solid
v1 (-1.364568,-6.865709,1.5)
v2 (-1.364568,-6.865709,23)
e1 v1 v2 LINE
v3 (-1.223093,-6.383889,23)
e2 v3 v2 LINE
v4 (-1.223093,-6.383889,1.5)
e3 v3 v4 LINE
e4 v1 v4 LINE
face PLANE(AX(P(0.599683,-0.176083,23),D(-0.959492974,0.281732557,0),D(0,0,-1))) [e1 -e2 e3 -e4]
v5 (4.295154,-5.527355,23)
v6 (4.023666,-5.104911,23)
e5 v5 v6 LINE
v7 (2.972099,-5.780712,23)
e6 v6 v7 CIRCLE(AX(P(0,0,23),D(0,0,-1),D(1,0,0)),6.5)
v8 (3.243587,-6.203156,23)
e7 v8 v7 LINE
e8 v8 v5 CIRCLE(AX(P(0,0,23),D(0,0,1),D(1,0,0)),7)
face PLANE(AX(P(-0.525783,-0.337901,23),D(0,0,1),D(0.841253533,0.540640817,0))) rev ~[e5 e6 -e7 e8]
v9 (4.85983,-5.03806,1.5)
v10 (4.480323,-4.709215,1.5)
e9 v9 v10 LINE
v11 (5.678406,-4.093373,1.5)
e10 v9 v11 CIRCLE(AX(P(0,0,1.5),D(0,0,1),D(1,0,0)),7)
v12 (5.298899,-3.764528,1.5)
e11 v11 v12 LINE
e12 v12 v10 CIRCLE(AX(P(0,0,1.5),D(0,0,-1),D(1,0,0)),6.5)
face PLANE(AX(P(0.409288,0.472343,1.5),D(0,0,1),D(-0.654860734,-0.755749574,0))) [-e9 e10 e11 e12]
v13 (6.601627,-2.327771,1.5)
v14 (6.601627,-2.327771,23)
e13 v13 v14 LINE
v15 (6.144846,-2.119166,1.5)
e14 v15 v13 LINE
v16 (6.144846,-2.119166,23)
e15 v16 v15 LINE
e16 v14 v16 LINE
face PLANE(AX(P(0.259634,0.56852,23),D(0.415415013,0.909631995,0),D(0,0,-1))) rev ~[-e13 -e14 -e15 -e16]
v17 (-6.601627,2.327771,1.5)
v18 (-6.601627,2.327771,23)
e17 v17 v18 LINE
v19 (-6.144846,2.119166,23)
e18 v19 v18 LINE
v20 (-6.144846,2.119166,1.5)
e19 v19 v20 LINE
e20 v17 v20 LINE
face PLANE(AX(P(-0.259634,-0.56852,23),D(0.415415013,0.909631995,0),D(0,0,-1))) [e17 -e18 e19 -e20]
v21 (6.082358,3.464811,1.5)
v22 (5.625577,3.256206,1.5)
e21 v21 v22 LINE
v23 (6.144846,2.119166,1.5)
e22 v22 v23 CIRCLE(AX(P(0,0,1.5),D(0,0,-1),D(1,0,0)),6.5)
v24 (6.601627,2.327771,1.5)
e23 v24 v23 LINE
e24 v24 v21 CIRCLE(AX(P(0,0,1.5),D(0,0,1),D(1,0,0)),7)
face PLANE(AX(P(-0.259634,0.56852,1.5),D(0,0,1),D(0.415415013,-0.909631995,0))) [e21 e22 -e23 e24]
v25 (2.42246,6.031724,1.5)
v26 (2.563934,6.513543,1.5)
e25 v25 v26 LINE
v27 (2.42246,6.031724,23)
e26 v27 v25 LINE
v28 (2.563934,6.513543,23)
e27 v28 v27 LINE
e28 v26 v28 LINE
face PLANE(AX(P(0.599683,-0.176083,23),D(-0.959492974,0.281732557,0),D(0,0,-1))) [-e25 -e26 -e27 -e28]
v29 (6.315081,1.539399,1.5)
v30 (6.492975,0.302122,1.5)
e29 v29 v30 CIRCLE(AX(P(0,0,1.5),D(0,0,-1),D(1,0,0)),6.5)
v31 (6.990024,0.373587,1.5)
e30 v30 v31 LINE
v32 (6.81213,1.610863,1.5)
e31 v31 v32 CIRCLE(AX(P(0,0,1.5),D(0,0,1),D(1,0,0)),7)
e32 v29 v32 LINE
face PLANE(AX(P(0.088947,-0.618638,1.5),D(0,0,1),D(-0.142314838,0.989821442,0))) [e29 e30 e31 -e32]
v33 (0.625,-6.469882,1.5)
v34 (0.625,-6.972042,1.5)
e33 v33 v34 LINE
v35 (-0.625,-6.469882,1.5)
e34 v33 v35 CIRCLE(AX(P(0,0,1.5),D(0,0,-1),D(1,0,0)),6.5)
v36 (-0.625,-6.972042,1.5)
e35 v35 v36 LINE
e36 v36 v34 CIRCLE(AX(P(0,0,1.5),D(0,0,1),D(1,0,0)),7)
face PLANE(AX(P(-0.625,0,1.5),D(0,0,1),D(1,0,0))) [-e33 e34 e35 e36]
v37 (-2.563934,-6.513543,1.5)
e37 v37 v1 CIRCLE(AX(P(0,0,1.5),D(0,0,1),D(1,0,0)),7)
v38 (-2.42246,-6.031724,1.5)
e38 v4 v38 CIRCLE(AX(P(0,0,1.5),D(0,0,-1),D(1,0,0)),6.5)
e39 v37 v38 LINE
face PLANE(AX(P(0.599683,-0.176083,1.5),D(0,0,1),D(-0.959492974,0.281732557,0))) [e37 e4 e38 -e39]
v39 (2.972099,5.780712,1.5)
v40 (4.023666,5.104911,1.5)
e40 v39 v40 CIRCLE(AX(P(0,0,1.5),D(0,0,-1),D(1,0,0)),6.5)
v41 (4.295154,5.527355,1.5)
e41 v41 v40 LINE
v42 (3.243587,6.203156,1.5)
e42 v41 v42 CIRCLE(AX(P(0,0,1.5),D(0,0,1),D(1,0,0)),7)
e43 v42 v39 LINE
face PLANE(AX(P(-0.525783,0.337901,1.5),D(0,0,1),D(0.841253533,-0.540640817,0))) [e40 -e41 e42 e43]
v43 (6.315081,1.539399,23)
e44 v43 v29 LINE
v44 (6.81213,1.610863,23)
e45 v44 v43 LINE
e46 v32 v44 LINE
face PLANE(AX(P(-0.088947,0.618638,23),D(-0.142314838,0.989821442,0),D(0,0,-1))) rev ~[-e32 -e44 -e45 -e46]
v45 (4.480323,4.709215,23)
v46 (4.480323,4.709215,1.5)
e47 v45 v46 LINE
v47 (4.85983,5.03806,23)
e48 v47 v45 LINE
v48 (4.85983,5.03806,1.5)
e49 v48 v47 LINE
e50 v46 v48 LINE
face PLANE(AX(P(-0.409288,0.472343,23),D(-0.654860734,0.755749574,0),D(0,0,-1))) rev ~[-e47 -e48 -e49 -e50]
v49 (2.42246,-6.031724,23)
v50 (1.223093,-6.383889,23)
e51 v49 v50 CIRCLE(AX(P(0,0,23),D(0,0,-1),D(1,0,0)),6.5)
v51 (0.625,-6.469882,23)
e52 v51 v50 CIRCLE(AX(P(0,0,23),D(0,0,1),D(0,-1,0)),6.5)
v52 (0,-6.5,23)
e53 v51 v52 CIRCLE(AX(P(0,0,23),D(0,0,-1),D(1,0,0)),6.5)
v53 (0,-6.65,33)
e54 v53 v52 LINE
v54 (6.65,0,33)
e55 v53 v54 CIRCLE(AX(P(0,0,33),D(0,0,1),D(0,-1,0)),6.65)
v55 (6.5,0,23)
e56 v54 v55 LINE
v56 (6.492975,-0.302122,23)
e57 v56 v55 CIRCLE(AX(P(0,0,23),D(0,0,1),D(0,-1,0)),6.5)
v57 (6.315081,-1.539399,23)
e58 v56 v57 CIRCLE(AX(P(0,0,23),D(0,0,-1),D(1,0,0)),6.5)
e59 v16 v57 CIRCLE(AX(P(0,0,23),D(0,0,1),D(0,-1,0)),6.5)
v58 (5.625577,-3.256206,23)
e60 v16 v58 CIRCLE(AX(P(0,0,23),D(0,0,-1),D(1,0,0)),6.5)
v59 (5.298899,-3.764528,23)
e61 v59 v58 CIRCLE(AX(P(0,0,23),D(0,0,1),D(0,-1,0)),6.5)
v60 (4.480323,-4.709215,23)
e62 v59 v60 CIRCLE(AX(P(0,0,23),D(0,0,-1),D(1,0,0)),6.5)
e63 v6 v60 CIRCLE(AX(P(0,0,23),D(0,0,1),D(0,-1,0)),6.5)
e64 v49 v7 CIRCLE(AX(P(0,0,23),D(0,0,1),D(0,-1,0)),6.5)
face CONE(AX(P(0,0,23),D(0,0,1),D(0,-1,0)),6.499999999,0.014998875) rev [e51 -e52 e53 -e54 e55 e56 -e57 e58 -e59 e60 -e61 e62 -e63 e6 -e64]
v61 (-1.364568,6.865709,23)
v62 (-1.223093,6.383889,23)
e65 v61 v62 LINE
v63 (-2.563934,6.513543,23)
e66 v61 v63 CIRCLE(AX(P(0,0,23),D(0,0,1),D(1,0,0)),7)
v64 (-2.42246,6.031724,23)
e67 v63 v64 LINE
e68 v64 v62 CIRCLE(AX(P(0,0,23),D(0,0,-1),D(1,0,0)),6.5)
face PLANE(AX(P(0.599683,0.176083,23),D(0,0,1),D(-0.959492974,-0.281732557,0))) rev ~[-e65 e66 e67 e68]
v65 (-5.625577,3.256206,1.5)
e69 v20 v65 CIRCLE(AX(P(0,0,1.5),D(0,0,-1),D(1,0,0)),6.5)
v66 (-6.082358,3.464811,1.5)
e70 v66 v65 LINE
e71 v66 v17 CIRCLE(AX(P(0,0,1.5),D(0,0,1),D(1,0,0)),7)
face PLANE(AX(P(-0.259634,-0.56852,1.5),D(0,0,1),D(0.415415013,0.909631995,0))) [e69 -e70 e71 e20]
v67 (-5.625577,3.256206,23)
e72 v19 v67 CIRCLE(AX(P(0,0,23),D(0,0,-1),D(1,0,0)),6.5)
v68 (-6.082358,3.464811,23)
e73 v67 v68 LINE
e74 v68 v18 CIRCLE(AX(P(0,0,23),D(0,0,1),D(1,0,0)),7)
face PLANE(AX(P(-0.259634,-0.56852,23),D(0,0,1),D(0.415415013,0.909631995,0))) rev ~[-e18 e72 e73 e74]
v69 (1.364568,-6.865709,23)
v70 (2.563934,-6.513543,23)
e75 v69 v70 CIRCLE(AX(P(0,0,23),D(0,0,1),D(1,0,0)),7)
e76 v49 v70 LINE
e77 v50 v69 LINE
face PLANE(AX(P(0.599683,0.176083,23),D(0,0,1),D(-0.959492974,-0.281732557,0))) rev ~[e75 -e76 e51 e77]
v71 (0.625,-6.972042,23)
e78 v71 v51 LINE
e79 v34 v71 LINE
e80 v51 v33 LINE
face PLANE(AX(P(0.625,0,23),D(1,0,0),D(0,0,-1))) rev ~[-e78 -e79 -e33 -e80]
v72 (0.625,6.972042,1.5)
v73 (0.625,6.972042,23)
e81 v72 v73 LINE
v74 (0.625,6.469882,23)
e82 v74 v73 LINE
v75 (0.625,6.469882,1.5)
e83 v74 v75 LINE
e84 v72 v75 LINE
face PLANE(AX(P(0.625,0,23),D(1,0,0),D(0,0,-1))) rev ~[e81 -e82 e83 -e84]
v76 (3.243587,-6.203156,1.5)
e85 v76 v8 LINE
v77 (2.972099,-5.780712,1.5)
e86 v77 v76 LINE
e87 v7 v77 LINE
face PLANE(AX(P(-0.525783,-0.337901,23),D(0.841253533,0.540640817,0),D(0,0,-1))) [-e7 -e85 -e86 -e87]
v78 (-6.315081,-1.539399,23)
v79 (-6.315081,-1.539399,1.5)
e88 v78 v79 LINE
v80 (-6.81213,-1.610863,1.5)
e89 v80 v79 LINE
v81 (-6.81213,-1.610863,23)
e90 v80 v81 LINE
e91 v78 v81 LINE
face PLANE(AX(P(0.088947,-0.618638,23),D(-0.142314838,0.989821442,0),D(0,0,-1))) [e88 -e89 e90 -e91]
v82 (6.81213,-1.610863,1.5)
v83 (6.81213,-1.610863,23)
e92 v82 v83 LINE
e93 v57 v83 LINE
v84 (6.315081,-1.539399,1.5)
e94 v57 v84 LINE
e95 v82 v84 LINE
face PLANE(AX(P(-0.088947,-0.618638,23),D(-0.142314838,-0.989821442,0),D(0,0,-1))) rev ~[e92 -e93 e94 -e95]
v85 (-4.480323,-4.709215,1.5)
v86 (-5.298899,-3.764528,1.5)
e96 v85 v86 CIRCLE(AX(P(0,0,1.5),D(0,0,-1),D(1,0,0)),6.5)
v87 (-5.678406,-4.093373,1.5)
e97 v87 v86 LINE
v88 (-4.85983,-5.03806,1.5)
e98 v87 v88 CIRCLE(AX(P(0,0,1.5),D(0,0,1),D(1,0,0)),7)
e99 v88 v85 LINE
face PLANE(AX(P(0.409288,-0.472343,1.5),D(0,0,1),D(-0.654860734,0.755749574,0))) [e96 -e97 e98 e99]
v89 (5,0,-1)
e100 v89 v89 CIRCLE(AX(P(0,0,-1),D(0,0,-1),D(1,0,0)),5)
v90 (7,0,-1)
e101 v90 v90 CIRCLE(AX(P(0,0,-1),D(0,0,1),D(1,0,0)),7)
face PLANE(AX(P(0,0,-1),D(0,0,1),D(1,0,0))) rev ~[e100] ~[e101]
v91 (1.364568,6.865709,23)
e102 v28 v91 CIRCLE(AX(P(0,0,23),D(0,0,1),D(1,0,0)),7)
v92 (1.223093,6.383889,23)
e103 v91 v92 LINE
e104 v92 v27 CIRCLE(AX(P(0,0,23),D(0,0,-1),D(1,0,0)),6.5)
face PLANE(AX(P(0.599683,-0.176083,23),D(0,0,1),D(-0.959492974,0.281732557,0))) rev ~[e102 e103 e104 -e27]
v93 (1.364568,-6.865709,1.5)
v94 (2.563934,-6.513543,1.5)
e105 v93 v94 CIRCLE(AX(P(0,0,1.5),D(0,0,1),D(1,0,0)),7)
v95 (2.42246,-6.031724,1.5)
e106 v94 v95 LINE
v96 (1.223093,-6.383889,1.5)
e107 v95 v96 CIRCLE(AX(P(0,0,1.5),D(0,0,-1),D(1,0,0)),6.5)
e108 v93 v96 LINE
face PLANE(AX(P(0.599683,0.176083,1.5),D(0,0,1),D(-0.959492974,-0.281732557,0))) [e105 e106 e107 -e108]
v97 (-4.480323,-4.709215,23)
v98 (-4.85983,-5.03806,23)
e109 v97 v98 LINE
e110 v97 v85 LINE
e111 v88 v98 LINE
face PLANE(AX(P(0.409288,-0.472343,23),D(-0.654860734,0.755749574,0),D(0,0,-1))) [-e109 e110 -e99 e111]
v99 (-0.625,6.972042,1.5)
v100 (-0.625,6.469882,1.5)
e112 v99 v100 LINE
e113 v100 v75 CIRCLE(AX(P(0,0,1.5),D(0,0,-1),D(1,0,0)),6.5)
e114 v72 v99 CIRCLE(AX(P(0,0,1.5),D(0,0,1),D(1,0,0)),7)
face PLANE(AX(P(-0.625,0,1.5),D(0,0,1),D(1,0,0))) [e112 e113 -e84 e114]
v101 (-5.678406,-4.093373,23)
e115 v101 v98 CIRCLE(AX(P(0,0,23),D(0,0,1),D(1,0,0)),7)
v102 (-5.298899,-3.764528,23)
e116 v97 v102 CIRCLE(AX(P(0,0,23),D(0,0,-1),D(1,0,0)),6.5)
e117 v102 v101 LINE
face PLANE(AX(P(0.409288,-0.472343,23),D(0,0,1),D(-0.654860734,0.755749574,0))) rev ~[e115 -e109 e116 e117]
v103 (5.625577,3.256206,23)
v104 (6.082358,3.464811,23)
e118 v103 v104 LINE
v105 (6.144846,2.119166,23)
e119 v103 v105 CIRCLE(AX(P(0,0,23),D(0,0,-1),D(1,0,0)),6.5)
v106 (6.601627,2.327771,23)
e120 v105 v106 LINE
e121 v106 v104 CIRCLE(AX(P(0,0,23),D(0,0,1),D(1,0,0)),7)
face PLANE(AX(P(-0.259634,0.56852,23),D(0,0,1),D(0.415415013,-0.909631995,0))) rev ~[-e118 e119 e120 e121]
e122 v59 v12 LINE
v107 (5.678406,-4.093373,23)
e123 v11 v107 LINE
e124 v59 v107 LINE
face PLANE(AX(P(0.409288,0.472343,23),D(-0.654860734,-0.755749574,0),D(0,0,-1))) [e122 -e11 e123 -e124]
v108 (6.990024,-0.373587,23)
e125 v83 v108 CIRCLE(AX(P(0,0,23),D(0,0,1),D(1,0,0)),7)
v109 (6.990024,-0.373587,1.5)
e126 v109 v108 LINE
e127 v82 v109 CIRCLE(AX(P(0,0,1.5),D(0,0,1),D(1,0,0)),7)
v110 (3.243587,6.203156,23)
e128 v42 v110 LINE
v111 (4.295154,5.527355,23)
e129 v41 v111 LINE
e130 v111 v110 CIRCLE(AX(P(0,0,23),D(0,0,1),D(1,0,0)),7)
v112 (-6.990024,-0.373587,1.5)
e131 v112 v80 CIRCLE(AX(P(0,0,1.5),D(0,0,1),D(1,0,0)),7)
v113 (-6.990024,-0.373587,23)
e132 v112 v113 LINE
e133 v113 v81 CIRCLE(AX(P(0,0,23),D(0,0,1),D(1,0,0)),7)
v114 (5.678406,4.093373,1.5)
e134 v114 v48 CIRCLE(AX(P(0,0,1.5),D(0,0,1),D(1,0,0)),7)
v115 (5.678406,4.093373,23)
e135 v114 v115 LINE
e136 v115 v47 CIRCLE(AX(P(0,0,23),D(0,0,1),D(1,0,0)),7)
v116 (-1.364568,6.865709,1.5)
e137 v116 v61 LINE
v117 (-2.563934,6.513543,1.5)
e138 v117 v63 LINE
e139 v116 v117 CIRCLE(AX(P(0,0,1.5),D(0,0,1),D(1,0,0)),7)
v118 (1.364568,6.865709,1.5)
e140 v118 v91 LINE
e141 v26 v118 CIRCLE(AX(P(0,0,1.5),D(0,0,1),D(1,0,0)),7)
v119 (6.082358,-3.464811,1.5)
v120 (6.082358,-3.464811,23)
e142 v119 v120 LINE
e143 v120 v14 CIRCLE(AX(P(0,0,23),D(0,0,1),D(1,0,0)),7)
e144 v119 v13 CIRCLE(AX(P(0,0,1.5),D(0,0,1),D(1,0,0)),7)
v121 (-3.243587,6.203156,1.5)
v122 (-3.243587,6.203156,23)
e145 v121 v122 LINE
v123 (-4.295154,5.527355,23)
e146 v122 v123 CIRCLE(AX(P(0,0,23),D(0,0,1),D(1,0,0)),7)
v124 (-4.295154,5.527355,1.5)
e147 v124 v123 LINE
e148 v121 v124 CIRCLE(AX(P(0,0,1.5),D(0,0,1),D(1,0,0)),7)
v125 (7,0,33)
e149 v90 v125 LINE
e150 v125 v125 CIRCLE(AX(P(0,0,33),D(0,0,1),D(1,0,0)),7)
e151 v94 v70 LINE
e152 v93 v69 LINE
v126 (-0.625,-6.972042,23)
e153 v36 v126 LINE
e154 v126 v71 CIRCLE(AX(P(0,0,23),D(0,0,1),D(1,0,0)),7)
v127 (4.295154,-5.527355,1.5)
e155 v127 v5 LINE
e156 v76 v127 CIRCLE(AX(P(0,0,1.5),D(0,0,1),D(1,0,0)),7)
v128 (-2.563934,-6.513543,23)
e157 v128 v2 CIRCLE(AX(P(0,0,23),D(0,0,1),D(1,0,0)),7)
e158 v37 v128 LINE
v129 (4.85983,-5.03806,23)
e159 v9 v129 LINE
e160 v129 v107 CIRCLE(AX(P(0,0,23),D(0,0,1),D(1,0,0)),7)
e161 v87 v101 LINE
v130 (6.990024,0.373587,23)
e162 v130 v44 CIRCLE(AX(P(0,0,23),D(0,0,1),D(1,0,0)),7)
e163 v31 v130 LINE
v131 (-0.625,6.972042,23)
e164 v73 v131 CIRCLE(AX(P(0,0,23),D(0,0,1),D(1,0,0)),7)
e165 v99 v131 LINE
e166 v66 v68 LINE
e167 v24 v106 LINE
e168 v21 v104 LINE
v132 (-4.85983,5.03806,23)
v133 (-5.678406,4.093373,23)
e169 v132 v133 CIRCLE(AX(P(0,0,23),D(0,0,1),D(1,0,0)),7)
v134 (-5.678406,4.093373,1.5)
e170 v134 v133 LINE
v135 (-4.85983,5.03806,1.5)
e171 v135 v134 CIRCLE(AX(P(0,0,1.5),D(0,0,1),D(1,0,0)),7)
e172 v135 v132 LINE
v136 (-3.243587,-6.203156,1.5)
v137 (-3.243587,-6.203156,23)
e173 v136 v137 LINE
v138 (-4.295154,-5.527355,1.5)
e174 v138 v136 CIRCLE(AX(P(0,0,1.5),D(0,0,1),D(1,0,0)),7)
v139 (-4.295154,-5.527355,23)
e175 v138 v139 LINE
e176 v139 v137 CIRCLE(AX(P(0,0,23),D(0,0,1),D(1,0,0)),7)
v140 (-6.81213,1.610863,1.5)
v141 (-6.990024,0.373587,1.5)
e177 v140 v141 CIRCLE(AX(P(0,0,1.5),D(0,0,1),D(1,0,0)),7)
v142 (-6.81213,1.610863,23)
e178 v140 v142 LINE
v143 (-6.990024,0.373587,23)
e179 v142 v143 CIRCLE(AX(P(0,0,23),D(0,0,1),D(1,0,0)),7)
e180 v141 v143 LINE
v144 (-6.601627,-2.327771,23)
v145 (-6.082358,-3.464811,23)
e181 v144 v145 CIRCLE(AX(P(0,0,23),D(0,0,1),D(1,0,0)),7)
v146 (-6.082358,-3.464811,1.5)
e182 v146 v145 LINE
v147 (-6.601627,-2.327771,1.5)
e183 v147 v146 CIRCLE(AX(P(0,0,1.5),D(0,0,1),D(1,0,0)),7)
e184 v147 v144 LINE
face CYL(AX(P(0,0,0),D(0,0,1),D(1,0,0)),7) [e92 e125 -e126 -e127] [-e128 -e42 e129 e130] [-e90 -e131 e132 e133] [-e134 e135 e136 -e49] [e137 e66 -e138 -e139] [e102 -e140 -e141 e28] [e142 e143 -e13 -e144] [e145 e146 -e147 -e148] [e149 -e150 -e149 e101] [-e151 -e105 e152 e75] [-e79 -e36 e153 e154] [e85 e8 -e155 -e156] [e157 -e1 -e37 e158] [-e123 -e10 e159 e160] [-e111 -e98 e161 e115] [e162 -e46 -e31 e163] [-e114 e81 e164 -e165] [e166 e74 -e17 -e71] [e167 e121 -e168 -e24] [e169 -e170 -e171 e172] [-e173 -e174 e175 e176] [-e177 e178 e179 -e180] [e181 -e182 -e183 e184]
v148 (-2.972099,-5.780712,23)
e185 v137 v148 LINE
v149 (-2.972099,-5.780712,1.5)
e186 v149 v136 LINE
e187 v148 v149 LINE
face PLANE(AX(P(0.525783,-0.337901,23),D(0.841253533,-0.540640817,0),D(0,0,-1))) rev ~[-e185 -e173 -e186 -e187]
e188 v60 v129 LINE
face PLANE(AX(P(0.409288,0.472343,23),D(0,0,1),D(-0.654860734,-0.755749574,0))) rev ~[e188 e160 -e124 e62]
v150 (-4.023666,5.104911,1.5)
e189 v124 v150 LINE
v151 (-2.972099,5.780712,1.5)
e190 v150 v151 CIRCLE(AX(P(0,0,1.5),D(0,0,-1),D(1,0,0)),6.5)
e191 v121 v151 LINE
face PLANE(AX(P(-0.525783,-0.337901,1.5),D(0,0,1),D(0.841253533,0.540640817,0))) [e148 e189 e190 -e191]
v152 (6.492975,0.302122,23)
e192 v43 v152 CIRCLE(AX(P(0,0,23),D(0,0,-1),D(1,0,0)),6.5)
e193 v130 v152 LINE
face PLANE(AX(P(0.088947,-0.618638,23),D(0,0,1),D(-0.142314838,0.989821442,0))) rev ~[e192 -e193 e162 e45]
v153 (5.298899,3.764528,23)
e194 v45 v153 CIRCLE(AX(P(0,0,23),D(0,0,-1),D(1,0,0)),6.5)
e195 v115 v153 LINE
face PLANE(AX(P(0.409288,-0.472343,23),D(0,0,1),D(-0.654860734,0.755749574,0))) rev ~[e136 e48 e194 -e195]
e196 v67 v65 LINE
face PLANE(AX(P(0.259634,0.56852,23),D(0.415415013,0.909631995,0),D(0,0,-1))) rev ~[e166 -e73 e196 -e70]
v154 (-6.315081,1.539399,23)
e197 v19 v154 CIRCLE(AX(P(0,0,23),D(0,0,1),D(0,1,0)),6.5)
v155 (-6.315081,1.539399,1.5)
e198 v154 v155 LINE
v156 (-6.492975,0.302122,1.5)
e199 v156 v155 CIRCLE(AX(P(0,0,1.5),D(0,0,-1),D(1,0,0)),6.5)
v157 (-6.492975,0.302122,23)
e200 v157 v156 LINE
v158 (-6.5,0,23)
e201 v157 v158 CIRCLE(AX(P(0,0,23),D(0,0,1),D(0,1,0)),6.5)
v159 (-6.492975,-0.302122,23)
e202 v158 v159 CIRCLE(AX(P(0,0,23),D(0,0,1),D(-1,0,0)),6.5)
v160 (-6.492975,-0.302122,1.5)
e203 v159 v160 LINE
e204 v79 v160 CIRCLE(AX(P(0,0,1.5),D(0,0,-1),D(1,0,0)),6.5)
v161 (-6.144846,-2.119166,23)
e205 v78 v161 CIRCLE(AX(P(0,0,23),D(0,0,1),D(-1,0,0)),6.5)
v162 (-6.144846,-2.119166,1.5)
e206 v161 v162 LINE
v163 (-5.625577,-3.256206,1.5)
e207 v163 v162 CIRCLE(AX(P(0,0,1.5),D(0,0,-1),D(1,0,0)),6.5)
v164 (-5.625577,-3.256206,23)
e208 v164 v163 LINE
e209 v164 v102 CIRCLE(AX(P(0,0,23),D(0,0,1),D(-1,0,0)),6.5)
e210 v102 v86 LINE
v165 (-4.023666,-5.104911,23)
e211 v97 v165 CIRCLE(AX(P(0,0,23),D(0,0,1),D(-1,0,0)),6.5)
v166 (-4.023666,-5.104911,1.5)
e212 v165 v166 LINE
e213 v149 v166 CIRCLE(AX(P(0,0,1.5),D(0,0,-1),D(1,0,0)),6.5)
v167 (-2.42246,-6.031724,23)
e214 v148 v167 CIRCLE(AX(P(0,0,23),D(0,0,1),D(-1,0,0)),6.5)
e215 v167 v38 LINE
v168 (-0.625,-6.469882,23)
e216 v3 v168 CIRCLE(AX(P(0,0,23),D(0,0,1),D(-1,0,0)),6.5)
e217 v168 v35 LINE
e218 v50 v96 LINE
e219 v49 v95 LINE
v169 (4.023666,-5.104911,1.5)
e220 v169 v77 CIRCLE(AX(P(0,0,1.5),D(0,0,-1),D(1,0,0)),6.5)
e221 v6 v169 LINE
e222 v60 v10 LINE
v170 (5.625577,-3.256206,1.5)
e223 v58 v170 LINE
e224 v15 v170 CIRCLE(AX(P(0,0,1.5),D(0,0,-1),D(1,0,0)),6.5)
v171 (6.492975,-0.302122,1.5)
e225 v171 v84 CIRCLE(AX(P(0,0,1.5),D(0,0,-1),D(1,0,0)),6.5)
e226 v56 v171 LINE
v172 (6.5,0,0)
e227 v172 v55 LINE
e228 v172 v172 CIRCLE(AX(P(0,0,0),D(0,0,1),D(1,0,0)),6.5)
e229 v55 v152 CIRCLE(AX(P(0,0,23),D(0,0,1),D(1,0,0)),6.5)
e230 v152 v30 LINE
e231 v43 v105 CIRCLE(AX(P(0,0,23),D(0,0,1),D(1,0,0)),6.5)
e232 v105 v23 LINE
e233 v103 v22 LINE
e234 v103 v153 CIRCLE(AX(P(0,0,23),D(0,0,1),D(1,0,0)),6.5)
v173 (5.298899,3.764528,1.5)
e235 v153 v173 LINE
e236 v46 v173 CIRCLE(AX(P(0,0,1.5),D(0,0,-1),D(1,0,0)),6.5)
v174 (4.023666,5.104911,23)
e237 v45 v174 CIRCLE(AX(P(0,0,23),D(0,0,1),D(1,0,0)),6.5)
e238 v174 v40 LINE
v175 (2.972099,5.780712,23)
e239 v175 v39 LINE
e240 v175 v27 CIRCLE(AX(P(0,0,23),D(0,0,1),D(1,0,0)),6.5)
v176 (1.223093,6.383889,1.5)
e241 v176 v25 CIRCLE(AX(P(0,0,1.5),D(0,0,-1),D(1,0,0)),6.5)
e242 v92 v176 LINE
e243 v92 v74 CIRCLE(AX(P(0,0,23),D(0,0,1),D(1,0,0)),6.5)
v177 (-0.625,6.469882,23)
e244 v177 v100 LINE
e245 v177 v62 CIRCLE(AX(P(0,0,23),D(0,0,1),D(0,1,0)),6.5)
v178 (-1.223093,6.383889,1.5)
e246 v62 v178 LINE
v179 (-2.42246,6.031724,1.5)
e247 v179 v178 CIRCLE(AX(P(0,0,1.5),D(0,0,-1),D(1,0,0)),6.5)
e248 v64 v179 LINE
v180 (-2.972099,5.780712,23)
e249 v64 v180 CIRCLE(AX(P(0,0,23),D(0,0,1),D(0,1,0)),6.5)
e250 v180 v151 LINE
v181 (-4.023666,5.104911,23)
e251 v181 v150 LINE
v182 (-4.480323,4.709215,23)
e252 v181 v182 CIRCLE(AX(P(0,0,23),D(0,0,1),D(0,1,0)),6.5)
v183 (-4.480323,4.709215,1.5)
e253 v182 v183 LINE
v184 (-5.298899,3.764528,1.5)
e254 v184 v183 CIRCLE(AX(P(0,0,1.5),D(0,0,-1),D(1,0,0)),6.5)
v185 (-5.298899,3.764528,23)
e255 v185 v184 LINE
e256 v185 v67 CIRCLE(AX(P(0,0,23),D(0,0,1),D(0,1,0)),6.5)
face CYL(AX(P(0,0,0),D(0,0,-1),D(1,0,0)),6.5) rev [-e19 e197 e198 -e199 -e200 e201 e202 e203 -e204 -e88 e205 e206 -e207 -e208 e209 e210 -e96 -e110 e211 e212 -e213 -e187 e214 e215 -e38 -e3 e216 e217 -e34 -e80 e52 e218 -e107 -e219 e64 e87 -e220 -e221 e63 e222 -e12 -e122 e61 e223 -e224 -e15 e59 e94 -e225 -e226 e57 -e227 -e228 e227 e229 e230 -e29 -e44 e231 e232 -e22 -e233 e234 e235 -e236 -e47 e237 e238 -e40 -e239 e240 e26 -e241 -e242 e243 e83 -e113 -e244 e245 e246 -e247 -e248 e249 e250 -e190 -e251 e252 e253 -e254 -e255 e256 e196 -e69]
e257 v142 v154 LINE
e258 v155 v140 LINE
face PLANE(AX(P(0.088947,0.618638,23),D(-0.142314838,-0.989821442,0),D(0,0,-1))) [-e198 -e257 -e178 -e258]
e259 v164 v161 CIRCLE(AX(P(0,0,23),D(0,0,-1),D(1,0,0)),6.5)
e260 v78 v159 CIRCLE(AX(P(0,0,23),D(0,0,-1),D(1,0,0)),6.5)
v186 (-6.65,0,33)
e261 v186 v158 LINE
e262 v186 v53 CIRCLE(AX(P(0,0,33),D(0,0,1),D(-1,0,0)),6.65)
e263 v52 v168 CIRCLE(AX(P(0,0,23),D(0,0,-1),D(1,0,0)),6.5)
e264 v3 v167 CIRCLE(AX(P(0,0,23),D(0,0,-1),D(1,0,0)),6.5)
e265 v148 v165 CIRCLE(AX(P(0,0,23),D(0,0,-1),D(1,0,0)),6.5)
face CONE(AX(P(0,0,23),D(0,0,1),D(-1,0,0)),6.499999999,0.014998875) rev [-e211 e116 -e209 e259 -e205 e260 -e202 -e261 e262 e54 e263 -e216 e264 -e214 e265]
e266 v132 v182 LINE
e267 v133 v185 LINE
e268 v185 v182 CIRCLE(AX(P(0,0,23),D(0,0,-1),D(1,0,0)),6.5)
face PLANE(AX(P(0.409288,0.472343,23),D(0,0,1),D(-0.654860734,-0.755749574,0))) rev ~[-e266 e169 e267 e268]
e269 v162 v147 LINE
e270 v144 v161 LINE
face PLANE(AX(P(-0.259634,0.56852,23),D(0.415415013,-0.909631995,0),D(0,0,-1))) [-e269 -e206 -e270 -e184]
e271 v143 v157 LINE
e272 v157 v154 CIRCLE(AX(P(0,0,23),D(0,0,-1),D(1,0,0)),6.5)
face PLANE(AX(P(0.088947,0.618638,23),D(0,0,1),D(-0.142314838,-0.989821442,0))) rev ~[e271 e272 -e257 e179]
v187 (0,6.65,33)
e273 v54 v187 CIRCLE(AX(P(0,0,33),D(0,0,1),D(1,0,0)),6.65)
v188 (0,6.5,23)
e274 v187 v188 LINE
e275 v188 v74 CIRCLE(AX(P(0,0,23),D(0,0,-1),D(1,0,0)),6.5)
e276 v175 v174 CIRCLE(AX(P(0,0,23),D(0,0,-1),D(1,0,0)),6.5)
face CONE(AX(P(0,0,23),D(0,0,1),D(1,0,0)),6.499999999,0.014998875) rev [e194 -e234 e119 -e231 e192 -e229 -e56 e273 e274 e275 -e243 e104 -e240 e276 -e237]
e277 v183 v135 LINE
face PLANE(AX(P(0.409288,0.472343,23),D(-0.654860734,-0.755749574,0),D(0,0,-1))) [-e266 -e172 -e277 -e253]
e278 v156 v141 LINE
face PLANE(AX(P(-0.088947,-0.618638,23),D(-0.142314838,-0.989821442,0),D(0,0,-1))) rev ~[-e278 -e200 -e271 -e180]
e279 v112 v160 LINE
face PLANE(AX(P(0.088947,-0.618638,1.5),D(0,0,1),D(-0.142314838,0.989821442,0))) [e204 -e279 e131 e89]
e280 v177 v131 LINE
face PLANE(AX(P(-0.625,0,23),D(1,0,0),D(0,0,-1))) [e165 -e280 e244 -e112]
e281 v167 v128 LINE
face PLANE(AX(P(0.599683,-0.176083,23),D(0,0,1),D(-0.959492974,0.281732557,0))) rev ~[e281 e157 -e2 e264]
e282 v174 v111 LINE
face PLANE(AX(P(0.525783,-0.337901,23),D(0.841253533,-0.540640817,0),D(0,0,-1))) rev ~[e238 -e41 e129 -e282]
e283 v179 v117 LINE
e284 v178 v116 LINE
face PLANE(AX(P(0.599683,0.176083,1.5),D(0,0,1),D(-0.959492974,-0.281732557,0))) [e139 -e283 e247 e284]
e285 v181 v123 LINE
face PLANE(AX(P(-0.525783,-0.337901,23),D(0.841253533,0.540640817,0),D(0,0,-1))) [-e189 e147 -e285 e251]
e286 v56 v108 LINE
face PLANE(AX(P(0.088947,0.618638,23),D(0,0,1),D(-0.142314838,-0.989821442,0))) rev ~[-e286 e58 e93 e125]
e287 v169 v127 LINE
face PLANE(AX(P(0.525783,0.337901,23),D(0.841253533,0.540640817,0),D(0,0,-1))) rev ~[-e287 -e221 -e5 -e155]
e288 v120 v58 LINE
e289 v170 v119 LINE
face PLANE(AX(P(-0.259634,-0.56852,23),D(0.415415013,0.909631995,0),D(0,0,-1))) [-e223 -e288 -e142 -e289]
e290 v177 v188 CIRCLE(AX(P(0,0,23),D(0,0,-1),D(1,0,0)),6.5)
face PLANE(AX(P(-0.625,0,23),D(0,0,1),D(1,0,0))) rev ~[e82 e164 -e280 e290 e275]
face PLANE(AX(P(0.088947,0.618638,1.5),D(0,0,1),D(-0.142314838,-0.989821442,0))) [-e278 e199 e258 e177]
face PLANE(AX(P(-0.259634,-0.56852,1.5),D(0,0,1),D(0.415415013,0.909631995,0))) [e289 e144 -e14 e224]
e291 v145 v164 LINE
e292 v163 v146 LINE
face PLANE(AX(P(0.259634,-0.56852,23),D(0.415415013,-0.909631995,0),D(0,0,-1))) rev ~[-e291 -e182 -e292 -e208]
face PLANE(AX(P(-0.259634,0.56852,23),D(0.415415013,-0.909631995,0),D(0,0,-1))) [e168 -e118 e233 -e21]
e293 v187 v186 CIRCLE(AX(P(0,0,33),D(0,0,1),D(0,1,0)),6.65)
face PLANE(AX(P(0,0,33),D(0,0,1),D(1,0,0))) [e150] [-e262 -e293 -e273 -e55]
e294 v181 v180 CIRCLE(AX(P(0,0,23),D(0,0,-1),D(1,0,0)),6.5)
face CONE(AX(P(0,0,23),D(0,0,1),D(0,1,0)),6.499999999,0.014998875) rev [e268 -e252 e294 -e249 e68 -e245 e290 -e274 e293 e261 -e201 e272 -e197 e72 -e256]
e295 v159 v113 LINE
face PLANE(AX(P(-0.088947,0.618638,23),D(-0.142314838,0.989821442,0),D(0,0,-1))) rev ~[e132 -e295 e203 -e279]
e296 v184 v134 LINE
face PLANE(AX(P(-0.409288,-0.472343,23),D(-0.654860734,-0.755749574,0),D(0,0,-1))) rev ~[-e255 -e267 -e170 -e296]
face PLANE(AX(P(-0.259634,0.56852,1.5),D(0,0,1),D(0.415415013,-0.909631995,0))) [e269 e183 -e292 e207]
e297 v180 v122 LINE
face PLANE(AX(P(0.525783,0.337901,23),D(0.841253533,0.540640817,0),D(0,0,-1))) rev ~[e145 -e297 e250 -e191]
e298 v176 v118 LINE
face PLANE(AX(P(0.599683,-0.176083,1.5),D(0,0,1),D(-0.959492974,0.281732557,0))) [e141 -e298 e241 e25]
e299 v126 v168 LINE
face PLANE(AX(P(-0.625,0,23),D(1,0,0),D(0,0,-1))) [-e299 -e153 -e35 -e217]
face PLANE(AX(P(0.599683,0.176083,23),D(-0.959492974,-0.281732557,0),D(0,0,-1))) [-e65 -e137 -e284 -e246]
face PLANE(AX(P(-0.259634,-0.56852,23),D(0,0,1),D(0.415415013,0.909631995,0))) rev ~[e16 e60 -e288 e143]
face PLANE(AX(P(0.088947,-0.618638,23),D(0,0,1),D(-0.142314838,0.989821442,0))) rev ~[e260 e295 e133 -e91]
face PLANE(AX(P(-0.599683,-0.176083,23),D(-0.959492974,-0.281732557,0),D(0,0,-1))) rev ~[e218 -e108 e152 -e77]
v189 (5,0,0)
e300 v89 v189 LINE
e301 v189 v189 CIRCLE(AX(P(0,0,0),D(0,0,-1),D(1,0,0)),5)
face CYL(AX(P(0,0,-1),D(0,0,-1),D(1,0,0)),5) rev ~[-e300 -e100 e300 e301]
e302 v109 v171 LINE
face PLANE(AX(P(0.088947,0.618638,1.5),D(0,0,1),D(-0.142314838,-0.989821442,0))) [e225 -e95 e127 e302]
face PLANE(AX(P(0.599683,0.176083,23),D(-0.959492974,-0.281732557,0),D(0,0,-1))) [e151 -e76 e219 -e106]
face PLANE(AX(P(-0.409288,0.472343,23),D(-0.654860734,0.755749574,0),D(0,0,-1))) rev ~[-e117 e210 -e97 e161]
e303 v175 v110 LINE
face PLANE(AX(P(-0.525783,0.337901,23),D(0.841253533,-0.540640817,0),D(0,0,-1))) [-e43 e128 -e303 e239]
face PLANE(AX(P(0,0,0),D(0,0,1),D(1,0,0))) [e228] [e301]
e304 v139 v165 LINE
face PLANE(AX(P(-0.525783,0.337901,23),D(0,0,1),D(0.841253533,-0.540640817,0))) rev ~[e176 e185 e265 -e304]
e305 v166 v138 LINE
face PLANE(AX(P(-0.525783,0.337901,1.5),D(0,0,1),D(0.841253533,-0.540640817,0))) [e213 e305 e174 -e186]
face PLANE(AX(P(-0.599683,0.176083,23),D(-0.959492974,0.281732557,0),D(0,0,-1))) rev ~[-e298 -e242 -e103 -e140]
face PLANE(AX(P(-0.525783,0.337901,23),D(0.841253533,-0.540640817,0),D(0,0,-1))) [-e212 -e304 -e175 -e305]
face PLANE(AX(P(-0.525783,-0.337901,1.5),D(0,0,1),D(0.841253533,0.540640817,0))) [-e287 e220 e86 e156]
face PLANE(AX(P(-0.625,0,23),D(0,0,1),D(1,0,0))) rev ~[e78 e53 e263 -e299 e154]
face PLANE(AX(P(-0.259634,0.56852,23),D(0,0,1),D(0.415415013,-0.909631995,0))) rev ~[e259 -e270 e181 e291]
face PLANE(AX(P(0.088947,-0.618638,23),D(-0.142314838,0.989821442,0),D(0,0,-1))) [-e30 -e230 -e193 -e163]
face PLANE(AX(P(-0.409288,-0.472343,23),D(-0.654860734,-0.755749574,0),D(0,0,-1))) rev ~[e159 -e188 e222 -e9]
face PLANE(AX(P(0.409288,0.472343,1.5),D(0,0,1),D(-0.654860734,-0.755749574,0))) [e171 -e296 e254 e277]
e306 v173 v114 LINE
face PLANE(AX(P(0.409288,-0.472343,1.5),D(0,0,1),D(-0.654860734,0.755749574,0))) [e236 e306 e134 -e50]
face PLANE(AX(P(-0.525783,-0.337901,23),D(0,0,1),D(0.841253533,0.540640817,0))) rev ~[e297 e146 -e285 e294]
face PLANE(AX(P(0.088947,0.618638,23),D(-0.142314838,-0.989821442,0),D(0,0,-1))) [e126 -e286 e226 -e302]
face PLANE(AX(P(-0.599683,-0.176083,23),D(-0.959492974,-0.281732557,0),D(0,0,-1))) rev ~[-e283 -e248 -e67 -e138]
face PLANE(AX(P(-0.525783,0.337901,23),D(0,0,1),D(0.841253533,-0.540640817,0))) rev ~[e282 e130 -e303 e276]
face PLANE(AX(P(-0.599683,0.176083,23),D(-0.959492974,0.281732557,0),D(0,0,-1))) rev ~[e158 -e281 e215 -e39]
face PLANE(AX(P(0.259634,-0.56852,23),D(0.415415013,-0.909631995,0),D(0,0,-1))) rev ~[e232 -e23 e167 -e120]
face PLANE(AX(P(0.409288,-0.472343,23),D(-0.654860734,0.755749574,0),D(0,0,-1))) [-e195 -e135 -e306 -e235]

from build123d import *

# Parameters (mm, degrees)
SKETCH_1_R               = 7
SKETCH_1_R_2             = 6.5
EXTRUDE_1_DEPTH          = 33
EXTRUDE_START            = -1
SKETCH_1_3_R             = 7
EXTRUDE_2_DEPTH          = 1
SKETCH_9_W               = 1.25
SKETCH_9_H               = 21.5
CUT_EXTRUDE_2_DEPTH      = 35.452866354
PATTERN_CIRCULAR_1_COUNT = 11
CUT_EXTRUDE_3_DEPTH      = 36.411862419
CUT_EXTRUDE_3_DEPTH_BACK = 36.411862419
SKETCH_11_R              = 5


with BuildPart() as part:
    # 스케치1 → 보스-돌출1 (new body)
    with BuildSketch(Plane.XY):
        Circle(SKETCH_1_R)
        Circle(SKETCH_1_R_2, mode=Mode.SUBTRACT)
    extrude(amount=EXTRUDE_1_DEPTH)

    # 스케치1<3> → 보스-돌출2 (add)
    with BuildSketch(Plane.XY.offset(EXTRUDE_START)):
        Circle(SKETCH_1_3_R)
    extrude(amount=EXTRUDE_2_DEPTH)

    # 스케치9 → 컷-돌출2 (cut, symmetric)
    with BuildSketch(Plane(origin=(0, 0, 0), x_dir=(1, 0, 0), z_dir=(0, 1, 0))):
        with Locations((0, -12.25)):
            Rectangle(SKETCH_9_W, SKETCH_9_H)
    cut_extrude_2 = extrude(amount=CUT_EXTRUDE_2_DEPTH, both=True, mode=Mode.SUBTRACT)

    # 원형 패턴1: 컷-돌출2 ×11 about axis
    pattern_circular_1_axis = Axis((0, 0, -1), (0, 0, -1))
    for i in range(1, PATTERN_CIRCULAR_1_COUNT):
        add(cut_extrude_2.rotate(pattern_circular_1_axis, i * 360 / PATTERN_CIRCULAR_1_COUNT), mode=Mode.SUBTRACT)

    # 컷-스윕1: sweep along a curve in space
    with BuildLine() as sweep_1_path:
        ThreePointArc((6.5, 0, 33), (4.596194078, 4.596194078, 33), (0, 6.5, 33))
        ThreePointArc((0, 6.5, 33), (-4.596194078, 4.596194078, 33), (-6.5, 0, 33))
        ThreePointArc((-6.5, 0, 33), (-4.596194078, -4.596194078, 33), (0, -6.5, 33))
        ThreePointArc((0, -6.5, 33), (4.596194078, -4.596194078, 33), (6.5, 0, 33))
    # 스케치10 → 컷-스윕1 (sweep, cut)
    with BuildSketch(Plane(origin=(0, 0, 0), x_dir=(1, 0, 0), z_dir=(0, 1, 0))):
        Polygon((6.5, -33), (6.5, -23), (6.65, -33), align=None)
    sweep(path=sweep_1_path.line, mode=Mode.SUBTRACT)

    # 스케치11 → 컷-돌출3 (cut, two sides: drawn at the far end of the back side and taken through both)
    with BuildSketch(Plane(origin=(0, 0, -1), x_dir=(-1, 0, 0), z_dir=(0, 0, -1)).offset(-CUT_EXTRUDE_3_DEPTH_BACK)):
        Circle(SKETCH_11_R)
    extrude(amount=CUT_EXTRUDE_3_DEPTH + CUT_EXTRUDE_3_DEPTH_BACK, mode=Mode.SUBTRACT)


solid = part.part
